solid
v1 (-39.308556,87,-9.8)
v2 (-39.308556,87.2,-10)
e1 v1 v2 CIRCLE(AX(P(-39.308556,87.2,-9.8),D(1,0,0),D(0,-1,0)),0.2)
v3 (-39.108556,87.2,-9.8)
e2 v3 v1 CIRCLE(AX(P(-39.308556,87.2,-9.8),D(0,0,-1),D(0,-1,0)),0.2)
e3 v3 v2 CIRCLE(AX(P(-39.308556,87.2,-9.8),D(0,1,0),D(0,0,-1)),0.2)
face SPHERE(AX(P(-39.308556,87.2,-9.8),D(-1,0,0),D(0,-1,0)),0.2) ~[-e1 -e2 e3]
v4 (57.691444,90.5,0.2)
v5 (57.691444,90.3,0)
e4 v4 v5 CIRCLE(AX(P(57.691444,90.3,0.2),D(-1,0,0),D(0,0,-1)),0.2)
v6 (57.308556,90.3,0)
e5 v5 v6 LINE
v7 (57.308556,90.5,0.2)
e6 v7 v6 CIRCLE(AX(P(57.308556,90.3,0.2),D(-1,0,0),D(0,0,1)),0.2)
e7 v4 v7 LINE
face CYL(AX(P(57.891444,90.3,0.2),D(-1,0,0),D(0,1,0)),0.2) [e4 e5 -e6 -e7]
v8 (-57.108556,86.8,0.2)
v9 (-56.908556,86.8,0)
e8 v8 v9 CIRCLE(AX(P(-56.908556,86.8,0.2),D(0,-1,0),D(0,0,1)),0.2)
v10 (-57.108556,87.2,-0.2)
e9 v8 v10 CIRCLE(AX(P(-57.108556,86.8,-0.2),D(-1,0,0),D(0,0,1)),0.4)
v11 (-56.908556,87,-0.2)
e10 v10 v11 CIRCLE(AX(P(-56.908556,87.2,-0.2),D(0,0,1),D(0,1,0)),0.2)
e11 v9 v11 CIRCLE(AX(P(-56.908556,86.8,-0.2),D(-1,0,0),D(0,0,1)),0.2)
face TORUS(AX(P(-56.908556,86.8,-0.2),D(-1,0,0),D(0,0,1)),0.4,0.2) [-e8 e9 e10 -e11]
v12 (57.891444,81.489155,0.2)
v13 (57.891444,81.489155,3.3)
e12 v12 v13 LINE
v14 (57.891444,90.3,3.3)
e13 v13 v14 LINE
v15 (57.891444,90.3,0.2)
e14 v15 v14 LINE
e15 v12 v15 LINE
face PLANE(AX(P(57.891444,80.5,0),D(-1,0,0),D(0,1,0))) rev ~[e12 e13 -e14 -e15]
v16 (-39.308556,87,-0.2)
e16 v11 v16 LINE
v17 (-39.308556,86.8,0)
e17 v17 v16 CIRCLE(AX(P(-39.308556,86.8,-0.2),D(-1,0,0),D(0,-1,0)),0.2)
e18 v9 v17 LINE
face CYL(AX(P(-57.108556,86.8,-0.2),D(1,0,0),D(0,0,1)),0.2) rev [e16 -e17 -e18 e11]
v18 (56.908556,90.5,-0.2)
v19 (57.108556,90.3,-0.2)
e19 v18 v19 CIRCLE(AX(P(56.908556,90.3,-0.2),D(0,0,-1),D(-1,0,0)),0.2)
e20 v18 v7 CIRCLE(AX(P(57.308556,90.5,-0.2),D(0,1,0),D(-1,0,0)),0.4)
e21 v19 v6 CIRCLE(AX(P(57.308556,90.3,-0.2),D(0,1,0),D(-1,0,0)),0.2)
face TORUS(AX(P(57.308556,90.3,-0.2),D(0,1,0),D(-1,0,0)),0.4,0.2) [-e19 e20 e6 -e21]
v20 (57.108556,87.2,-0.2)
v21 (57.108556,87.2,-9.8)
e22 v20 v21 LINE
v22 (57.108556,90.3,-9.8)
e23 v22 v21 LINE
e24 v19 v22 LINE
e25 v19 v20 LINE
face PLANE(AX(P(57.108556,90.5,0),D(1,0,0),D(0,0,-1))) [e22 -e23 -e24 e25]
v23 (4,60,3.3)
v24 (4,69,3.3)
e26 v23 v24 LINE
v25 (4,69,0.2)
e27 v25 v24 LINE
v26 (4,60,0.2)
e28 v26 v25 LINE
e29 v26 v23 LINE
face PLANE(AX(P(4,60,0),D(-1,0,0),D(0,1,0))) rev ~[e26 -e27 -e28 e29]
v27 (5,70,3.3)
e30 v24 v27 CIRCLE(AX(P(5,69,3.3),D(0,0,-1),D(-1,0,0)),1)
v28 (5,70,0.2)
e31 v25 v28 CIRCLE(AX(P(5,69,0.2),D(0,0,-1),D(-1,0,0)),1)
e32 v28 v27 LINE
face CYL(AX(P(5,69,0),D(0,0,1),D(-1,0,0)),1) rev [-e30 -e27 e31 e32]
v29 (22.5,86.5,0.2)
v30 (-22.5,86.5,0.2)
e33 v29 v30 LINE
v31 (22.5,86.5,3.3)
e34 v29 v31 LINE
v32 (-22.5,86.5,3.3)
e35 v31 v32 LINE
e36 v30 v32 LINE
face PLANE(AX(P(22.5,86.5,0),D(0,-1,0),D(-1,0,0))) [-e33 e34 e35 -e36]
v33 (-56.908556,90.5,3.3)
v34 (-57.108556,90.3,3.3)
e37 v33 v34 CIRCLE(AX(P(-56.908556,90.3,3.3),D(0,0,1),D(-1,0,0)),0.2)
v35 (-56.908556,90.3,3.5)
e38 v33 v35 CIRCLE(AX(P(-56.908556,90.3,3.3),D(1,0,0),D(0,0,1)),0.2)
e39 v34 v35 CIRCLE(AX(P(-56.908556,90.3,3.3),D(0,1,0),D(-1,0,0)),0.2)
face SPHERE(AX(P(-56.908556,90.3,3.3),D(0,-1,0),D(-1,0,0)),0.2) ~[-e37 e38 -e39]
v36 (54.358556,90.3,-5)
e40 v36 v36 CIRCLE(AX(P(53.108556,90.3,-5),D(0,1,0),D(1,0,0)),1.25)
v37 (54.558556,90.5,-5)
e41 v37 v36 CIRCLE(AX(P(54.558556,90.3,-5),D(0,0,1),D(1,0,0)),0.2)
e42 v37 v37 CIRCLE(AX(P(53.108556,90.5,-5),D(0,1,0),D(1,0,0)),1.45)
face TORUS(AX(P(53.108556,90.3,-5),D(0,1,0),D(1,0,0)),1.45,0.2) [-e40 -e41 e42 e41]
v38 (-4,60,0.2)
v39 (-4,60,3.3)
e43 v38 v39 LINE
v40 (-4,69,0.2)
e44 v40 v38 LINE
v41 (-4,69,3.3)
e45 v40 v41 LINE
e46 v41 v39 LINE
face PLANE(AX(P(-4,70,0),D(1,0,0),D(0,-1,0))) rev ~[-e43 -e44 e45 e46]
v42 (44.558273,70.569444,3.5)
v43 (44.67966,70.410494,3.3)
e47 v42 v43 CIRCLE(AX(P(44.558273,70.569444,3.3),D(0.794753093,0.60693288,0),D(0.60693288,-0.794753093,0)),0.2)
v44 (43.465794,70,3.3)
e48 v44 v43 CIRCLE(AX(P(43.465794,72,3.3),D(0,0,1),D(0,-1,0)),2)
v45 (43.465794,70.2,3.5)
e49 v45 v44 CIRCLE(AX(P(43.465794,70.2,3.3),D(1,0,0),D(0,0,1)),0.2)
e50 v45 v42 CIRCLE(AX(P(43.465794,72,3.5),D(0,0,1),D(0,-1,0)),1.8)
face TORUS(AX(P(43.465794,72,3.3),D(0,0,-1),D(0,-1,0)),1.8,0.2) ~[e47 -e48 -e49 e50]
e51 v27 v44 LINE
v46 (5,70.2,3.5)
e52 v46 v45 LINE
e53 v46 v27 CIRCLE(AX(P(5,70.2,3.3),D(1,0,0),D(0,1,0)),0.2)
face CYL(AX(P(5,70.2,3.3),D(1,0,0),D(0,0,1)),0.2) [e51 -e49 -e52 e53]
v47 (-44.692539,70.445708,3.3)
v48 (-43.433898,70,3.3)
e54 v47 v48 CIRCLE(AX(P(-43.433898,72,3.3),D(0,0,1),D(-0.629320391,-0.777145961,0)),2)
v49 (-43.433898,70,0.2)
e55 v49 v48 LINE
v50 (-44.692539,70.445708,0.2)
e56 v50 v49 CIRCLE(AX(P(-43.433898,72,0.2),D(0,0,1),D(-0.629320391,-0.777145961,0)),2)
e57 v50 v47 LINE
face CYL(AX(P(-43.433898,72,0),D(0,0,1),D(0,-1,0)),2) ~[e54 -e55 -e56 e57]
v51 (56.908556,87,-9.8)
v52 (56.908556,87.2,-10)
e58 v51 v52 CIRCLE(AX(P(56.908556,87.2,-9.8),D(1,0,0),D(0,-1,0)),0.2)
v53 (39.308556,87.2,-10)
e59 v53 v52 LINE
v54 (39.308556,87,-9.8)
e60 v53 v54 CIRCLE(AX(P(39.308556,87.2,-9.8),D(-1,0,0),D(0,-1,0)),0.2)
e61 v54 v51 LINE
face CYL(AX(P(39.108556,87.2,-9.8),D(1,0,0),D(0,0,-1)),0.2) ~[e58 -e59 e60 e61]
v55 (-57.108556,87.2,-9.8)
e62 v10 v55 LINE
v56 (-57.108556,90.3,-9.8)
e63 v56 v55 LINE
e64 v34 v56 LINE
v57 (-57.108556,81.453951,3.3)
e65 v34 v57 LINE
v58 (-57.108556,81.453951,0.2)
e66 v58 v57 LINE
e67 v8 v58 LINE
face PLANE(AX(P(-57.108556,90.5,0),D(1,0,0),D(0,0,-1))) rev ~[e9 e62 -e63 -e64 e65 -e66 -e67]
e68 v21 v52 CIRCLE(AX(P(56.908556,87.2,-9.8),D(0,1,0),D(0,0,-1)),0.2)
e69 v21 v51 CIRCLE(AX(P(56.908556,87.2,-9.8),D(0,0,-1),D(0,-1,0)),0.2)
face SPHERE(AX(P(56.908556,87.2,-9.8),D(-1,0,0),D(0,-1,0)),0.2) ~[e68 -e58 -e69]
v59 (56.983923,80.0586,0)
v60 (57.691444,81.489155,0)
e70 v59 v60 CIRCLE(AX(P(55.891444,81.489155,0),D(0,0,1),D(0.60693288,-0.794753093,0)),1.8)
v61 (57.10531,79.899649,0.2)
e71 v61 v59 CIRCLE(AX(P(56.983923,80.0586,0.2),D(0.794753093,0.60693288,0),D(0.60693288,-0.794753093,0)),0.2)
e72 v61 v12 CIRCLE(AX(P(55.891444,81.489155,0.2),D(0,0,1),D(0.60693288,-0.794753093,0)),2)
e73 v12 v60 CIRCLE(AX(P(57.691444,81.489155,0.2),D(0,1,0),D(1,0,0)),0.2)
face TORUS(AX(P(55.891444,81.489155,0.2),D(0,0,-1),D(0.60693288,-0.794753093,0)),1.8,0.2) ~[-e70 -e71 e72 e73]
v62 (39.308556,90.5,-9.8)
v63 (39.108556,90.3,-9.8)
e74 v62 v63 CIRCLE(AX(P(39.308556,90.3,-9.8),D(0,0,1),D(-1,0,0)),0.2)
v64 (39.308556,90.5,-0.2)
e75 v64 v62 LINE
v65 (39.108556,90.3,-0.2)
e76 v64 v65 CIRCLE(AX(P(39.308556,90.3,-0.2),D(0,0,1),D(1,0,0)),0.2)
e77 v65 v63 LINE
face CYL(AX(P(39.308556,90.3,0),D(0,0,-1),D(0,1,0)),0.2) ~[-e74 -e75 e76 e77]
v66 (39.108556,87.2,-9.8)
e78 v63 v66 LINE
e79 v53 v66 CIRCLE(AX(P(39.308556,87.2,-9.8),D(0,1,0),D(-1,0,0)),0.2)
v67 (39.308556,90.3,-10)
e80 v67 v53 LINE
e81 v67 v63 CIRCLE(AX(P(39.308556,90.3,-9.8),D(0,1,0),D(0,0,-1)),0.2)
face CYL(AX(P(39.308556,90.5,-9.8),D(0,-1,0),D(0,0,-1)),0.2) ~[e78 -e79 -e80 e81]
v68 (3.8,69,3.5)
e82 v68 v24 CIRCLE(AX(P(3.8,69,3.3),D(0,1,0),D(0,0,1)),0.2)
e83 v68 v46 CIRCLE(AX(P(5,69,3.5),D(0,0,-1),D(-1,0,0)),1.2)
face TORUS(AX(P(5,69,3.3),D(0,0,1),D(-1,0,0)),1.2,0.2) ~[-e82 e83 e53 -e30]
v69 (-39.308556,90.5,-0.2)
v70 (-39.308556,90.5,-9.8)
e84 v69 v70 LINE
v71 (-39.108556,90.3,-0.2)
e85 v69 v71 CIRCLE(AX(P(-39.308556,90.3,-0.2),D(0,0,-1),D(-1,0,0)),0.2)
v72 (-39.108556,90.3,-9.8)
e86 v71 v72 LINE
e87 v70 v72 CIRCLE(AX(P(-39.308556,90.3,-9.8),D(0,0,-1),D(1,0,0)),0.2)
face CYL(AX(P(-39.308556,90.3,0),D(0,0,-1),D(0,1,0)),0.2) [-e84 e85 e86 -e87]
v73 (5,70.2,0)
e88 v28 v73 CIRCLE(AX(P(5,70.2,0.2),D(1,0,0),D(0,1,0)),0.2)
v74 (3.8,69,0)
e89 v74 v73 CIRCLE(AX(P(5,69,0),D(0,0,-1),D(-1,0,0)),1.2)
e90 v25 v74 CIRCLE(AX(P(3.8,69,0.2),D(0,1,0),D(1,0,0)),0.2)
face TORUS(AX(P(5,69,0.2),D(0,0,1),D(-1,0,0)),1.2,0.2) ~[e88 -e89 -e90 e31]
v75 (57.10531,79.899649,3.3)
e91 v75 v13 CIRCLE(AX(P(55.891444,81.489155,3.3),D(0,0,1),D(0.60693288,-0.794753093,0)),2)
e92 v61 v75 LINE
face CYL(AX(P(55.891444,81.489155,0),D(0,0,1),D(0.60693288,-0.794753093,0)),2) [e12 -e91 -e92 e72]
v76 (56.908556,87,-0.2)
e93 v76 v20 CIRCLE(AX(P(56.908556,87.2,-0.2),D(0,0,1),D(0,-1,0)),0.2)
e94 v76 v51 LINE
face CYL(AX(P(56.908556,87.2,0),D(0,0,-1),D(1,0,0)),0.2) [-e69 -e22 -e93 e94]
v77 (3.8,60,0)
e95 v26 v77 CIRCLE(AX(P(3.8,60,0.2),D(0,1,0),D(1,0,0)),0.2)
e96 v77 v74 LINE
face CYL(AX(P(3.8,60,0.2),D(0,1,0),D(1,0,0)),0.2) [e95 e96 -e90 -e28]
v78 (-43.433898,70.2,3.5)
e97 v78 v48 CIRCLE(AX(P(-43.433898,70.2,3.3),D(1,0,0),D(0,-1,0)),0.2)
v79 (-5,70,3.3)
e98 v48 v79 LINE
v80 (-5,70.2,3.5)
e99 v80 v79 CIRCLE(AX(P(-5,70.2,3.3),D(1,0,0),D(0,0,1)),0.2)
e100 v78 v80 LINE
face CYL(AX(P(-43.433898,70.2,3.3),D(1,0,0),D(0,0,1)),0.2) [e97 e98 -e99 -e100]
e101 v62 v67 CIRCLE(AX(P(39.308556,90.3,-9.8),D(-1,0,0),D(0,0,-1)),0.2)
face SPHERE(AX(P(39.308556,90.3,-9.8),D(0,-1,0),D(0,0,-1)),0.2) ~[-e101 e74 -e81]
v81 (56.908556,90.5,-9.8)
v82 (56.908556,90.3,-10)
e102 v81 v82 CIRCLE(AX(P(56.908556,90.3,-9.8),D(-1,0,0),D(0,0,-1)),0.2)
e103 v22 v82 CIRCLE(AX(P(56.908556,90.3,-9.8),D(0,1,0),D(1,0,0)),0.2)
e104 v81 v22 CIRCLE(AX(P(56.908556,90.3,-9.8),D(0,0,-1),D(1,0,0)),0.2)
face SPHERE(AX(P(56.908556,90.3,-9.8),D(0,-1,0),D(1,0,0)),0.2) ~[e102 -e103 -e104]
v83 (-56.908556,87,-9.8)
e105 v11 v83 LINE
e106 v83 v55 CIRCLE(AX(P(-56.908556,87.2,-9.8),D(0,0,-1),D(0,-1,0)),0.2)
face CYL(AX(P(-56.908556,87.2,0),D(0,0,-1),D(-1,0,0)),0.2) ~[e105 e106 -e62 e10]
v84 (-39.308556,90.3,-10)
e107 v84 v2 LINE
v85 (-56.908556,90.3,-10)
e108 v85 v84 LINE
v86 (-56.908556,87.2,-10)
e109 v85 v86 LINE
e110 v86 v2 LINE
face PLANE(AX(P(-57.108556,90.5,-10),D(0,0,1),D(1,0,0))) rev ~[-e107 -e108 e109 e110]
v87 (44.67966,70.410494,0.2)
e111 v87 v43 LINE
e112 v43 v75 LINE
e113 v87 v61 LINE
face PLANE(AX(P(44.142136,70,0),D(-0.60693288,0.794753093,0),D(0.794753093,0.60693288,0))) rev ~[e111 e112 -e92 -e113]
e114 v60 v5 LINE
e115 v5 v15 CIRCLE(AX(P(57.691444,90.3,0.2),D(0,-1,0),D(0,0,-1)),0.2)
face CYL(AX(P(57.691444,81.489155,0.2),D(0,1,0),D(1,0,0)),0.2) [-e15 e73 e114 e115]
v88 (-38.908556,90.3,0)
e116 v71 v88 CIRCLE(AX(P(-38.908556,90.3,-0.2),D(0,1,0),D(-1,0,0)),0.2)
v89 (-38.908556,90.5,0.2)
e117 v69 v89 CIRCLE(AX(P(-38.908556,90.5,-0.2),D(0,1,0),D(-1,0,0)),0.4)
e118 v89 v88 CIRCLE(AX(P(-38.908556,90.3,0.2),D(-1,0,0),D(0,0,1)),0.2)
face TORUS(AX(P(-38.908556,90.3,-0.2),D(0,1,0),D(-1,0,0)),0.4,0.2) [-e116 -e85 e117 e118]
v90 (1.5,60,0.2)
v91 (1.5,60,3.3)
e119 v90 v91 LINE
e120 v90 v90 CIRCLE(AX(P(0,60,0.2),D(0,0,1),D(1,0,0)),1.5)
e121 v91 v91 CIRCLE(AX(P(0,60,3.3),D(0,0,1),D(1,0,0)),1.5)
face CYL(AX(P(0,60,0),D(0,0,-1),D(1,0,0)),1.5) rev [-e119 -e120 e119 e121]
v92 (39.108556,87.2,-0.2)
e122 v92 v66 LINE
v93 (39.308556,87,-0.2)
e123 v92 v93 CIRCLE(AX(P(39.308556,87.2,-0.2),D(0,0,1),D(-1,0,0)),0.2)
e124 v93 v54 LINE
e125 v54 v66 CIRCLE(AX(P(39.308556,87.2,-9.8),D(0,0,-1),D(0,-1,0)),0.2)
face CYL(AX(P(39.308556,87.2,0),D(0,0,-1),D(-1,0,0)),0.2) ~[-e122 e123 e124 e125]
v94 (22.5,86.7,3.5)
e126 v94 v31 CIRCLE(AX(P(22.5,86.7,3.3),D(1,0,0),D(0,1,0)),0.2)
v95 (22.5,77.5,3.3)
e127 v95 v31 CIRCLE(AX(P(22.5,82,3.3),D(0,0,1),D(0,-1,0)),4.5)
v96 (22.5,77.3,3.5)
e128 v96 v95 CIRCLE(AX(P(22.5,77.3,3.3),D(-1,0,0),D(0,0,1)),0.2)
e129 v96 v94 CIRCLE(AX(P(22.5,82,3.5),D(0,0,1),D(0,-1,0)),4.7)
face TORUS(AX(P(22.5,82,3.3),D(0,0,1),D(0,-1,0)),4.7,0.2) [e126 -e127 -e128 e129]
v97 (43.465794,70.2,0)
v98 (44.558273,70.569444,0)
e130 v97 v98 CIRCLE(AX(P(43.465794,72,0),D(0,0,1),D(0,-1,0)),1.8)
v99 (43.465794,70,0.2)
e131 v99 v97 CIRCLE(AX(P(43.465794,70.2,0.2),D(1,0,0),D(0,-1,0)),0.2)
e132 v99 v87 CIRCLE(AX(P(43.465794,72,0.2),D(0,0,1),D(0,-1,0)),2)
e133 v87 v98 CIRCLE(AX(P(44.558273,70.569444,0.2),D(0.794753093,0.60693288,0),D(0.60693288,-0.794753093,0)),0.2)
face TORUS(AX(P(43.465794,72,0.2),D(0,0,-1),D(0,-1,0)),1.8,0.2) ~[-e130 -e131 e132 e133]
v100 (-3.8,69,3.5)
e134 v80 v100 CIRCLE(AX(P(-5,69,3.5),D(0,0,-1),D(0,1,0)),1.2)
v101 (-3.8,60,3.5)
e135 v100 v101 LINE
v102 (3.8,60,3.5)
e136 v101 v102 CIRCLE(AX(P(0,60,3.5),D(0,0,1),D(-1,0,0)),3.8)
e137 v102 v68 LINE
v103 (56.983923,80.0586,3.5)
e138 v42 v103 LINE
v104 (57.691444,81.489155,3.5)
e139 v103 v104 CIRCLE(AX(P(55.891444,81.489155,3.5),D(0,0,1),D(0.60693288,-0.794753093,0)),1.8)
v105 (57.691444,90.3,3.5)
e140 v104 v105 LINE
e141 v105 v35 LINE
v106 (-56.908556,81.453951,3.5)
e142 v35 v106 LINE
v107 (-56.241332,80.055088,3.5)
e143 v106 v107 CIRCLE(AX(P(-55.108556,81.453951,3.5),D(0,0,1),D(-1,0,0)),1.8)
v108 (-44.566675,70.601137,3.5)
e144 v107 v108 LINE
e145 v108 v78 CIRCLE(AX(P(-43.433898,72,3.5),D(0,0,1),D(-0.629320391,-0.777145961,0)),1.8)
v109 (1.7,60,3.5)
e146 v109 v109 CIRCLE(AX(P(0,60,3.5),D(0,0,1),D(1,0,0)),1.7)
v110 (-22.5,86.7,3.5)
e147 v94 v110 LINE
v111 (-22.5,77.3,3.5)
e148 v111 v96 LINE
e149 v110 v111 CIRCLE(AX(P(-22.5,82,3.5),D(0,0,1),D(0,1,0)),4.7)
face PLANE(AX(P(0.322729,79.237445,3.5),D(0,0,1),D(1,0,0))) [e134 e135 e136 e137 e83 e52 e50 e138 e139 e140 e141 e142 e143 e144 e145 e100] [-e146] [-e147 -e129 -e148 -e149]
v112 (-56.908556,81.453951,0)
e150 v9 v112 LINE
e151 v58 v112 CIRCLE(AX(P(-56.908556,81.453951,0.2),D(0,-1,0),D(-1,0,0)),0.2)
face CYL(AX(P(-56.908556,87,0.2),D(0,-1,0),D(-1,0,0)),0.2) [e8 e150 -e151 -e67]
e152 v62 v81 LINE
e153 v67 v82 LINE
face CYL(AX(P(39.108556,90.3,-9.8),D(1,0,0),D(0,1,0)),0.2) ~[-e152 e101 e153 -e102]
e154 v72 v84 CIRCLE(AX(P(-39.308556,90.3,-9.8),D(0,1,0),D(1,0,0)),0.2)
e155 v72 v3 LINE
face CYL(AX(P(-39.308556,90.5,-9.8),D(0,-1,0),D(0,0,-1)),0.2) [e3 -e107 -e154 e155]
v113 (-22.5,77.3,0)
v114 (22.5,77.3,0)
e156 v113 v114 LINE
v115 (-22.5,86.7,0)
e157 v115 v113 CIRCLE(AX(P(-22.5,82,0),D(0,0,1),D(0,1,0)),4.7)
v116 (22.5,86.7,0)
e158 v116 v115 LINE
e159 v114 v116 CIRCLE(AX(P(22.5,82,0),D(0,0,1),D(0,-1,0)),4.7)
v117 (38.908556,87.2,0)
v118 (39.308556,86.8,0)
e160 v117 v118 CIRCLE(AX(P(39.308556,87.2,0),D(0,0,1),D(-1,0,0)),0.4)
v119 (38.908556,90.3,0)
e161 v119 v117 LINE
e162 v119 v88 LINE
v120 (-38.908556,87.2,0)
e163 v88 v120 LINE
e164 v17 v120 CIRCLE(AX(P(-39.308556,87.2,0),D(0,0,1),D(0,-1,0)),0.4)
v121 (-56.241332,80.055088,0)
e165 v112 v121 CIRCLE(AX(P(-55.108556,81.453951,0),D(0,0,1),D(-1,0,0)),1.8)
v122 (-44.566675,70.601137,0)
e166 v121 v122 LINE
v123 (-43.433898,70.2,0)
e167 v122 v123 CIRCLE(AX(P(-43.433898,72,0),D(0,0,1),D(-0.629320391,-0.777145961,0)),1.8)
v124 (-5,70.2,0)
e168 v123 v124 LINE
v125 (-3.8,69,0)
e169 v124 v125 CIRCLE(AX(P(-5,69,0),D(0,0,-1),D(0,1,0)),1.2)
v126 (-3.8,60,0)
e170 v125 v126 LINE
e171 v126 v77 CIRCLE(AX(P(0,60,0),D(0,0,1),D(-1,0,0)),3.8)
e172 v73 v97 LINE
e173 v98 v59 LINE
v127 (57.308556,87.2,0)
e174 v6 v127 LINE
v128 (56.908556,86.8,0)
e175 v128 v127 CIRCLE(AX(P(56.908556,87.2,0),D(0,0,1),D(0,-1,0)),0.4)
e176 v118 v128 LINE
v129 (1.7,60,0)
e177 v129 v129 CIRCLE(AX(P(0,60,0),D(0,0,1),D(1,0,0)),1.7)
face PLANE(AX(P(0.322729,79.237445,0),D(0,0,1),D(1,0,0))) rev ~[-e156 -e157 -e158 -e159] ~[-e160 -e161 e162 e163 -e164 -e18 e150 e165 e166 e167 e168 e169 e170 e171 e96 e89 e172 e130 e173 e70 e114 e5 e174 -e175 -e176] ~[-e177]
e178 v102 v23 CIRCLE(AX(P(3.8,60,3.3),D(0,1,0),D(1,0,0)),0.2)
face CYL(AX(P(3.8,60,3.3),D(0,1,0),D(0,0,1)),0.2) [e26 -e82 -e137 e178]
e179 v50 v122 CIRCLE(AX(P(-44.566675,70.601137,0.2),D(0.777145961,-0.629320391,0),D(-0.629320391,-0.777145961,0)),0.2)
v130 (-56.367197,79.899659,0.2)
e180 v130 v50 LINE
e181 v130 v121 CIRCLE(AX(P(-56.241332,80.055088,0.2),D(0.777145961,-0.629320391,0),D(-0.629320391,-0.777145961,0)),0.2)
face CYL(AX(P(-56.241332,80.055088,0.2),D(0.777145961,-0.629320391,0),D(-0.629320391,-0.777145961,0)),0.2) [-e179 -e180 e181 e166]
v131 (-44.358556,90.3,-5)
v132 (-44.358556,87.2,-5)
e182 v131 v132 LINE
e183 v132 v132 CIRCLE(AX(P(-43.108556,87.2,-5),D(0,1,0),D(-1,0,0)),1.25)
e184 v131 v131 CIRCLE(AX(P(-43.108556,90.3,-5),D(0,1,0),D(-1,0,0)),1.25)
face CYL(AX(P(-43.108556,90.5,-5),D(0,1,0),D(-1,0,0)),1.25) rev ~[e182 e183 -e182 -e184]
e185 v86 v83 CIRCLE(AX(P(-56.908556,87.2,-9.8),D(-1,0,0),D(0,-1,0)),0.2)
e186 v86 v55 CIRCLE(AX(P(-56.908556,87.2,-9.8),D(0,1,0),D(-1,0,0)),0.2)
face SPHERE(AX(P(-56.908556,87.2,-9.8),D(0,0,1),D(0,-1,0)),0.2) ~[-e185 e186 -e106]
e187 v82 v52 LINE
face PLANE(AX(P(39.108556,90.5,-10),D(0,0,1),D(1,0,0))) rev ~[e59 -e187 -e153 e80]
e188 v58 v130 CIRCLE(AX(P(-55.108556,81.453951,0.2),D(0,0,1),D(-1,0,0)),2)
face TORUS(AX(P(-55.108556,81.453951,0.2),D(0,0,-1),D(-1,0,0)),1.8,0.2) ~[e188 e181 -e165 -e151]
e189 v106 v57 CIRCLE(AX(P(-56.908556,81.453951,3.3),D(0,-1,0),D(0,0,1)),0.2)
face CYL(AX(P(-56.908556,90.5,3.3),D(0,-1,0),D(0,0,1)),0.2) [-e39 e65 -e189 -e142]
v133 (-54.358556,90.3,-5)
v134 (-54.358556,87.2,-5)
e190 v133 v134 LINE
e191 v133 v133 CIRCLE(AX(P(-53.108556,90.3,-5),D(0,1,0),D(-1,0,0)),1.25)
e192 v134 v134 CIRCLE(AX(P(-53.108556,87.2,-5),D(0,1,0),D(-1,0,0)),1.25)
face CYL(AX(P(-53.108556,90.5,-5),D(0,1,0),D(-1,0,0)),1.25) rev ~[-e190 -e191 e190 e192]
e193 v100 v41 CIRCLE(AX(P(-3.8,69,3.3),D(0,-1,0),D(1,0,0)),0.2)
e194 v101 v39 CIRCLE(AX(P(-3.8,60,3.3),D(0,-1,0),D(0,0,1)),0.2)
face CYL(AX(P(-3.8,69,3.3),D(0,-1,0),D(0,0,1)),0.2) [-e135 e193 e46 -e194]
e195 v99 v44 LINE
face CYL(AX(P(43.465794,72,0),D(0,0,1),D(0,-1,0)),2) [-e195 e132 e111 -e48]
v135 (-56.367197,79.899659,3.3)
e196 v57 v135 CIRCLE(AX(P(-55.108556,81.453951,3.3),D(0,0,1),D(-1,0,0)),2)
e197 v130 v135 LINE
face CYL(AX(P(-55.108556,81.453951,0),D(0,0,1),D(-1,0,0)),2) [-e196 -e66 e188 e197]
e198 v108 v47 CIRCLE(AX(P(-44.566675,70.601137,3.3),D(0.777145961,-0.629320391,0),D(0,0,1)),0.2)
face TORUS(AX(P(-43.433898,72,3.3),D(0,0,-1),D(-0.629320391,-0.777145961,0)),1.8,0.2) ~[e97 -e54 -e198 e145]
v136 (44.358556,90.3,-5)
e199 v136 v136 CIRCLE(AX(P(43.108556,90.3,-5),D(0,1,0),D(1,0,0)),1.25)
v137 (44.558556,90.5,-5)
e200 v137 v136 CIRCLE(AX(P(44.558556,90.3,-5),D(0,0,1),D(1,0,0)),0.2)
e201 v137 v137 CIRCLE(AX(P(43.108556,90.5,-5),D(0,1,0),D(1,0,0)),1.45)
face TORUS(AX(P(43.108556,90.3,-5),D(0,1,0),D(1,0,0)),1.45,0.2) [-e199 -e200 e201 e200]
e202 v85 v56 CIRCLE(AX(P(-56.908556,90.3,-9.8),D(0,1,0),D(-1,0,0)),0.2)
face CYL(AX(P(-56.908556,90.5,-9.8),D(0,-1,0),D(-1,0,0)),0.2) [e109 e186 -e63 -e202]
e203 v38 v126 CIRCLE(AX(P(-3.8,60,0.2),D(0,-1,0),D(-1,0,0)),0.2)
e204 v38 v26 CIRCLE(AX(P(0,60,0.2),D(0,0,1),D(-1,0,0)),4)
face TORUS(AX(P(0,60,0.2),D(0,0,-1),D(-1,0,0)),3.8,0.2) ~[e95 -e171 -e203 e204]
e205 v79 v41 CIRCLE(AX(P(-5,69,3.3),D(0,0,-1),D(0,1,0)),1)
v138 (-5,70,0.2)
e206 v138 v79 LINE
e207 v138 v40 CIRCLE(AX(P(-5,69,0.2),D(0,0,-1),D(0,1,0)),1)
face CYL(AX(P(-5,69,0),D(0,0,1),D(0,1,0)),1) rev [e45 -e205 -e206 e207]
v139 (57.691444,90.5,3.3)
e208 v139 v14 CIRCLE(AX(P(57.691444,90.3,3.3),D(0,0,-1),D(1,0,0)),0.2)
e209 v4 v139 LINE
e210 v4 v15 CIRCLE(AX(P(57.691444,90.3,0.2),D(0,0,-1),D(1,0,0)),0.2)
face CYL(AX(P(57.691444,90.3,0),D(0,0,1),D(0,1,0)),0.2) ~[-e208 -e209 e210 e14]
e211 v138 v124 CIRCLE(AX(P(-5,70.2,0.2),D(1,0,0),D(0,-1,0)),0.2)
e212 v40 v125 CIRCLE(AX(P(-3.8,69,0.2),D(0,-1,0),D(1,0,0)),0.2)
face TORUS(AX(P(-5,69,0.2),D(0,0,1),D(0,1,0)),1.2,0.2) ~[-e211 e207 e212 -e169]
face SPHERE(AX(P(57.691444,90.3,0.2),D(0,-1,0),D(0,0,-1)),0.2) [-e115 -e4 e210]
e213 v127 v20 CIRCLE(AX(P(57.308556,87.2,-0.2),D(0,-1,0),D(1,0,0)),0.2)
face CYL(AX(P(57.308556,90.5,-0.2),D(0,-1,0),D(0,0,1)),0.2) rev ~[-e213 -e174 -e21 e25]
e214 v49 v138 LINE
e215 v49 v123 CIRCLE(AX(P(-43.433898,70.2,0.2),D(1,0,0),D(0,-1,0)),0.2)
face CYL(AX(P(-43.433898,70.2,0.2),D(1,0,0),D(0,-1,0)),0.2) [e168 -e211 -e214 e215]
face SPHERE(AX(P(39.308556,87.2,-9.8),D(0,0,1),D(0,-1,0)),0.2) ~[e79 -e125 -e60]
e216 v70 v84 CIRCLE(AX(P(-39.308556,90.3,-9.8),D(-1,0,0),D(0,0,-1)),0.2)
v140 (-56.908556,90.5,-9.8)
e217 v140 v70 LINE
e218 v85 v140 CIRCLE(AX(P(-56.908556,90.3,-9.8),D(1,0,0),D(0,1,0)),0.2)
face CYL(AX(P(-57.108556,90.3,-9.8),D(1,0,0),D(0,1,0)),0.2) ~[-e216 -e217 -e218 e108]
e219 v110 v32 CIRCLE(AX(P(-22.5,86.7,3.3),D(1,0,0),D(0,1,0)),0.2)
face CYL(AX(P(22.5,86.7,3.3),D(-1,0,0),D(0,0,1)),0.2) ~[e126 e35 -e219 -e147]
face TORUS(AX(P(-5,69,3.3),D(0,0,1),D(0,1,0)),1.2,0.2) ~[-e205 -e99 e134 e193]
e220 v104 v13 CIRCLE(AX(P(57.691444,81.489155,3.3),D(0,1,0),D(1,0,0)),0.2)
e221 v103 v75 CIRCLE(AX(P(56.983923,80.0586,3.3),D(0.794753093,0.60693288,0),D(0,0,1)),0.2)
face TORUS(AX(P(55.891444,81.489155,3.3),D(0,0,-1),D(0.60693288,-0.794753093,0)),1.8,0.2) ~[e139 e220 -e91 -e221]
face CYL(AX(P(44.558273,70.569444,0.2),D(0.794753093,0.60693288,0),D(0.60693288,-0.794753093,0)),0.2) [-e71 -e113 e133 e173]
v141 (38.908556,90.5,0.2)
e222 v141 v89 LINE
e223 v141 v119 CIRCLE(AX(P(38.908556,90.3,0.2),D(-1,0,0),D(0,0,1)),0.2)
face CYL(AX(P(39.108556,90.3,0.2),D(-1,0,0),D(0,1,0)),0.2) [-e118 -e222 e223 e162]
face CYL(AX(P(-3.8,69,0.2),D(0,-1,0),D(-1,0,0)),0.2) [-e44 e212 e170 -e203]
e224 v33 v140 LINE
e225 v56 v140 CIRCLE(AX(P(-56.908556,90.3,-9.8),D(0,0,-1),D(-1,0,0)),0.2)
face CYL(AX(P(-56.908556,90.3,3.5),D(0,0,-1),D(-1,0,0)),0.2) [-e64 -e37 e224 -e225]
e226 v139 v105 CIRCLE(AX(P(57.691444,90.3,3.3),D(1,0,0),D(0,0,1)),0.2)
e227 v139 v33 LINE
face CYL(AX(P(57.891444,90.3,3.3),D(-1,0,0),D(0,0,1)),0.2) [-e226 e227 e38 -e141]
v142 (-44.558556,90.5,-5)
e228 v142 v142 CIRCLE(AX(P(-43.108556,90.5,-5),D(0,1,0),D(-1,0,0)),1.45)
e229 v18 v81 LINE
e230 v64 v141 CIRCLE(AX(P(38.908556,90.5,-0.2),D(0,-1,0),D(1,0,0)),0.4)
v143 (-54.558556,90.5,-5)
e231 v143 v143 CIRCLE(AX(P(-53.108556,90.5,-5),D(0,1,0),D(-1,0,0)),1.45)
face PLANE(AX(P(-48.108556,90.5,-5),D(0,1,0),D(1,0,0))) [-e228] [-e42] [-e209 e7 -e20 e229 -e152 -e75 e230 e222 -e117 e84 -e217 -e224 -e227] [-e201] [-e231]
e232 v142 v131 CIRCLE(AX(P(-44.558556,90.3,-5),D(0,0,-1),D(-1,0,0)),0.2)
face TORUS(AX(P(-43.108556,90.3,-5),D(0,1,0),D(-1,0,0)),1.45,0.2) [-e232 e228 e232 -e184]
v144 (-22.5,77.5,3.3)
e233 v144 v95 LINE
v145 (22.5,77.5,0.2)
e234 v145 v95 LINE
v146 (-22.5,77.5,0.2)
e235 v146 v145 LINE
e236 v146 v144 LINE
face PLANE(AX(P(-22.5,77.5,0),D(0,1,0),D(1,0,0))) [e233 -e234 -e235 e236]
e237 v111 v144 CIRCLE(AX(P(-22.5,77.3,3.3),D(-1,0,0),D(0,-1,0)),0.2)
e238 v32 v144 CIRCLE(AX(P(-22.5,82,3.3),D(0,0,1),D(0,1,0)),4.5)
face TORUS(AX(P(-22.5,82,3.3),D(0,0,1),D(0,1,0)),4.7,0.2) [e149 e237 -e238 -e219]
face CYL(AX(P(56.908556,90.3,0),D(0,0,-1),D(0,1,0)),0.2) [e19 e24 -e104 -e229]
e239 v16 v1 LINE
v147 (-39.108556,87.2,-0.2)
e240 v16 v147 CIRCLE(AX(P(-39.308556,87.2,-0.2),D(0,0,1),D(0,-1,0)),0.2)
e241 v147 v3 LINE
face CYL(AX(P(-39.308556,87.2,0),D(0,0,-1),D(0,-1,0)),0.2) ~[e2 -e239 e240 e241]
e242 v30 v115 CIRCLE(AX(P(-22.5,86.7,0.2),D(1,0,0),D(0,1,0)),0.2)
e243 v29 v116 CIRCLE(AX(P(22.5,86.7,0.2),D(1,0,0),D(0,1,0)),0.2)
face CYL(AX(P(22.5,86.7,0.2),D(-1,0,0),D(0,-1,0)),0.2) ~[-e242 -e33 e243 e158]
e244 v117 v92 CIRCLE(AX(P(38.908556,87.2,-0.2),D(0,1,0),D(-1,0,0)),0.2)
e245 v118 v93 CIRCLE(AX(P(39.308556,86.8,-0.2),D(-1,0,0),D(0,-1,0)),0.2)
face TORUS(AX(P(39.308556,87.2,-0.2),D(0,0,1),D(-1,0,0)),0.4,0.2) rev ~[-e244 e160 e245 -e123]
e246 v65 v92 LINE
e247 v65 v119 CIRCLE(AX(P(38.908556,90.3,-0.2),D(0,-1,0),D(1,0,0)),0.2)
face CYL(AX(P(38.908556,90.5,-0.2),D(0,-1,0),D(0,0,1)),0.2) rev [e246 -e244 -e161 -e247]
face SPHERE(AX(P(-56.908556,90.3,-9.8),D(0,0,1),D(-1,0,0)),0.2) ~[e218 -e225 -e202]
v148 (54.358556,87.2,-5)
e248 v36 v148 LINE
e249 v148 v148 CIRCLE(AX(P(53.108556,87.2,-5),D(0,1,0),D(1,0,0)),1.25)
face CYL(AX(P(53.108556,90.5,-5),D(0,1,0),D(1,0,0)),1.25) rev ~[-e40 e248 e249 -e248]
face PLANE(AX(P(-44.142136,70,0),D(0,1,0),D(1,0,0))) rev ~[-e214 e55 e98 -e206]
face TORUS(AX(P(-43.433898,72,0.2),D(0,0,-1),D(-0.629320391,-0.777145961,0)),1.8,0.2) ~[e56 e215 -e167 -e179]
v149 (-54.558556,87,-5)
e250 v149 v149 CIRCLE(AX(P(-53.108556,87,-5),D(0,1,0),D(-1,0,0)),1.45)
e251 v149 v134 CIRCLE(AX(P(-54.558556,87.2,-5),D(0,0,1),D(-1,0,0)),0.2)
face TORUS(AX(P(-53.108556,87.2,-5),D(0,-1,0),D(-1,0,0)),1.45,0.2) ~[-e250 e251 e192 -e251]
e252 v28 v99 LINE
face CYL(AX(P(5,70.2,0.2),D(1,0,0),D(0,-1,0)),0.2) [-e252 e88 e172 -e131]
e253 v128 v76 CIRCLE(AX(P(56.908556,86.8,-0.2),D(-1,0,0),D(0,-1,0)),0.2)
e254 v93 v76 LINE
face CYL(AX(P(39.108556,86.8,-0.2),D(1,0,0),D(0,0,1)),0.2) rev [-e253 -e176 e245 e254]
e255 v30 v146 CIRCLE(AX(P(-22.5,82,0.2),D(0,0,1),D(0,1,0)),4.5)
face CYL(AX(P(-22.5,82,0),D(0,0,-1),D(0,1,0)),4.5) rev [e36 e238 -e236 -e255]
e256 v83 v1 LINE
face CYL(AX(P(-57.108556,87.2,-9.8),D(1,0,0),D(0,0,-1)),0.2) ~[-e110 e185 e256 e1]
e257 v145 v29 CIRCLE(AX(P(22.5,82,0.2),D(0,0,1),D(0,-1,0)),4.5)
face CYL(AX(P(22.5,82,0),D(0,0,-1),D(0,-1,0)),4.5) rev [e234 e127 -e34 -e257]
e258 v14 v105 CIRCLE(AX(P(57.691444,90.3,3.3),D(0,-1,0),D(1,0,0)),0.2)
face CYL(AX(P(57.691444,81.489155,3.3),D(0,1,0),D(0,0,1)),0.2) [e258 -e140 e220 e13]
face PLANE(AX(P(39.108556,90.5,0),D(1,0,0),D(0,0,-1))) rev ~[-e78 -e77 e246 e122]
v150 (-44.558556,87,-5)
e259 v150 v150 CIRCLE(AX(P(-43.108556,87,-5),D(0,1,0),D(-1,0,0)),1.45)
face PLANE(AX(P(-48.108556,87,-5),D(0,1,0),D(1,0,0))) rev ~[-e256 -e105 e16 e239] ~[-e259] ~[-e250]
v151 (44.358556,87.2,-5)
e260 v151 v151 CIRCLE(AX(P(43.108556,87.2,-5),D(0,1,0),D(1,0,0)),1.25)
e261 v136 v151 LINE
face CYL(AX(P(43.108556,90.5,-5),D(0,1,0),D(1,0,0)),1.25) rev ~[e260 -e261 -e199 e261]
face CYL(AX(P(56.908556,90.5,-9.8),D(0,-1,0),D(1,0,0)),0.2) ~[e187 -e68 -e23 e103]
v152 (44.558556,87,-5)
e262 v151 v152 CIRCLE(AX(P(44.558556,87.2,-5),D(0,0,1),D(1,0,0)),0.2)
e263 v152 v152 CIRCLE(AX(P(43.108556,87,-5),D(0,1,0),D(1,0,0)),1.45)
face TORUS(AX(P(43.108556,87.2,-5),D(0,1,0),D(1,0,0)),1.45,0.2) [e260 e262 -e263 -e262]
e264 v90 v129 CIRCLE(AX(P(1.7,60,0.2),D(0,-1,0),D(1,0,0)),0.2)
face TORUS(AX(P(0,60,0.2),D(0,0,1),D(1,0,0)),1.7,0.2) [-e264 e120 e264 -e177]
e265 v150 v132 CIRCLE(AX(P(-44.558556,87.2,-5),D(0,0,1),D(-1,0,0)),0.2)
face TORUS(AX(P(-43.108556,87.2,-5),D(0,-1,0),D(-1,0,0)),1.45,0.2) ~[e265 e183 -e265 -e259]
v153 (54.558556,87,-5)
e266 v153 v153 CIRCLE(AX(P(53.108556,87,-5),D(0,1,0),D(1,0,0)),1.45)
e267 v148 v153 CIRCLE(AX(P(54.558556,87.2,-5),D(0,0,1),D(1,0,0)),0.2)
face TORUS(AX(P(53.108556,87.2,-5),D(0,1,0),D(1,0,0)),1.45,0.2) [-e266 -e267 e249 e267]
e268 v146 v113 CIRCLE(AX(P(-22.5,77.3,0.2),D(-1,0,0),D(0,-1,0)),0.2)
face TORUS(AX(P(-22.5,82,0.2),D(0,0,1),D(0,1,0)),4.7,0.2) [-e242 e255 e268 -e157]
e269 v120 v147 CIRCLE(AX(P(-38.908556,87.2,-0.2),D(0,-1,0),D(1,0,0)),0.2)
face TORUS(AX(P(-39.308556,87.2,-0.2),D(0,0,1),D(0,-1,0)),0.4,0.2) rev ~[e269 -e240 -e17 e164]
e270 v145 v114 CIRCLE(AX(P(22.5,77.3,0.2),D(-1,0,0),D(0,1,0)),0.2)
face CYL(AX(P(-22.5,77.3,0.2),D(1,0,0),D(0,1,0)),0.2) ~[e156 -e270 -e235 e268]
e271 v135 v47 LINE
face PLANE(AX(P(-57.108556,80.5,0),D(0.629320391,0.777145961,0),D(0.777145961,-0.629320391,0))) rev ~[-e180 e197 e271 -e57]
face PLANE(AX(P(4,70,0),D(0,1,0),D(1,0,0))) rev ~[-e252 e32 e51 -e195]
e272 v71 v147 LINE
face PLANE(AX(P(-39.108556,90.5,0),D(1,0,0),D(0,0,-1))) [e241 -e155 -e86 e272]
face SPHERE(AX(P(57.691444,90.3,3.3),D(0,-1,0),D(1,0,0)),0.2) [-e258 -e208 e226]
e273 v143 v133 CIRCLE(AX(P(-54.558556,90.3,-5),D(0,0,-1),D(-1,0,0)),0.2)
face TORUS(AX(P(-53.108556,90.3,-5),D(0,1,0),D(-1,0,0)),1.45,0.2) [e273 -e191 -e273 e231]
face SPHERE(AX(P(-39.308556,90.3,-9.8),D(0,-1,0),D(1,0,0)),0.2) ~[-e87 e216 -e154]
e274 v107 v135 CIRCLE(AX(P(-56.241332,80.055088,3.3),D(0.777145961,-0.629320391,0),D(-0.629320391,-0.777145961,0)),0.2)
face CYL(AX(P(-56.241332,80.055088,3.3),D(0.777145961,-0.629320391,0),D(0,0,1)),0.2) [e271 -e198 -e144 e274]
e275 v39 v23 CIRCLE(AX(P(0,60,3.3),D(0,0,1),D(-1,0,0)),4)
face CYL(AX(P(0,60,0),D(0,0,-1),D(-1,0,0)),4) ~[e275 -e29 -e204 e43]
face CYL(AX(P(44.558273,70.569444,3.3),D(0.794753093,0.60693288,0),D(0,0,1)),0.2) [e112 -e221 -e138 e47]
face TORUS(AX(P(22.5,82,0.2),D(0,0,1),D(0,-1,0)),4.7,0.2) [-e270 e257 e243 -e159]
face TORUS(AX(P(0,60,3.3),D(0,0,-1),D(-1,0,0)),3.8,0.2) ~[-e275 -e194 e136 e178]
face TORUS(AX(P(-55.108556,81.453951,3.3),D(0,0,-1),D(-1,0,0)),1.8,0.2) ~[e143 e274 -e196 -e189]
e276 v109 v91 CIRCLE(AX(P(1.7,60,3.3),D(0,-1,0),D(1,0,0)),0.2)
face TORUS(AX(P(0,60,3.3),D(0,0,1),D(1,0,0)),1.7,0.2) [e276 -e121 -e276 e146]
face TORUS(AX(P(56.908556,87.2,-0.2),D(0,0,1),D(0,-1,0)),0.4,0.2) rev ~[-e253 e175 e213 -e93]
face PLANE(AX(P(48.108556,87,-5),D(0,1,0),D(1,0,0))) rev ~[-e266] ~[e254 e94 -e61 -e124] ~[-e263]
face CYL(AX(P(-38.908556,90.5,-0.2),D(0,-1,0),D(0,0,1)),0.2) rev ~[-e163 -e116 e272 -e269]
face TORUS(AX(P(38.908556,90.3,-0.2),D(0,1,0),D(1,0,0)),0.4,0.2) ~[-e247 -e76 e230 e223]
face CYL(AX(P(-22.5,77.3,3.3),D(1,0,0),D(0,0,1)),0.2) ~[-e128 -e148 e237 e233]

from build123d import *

# Parameters (mm, degrees)
SKETCH6_R           = 1.5
BOSS_EXTRUDE1_DEPTH = 3.5
SKETCH8_W           = 18
SKETCH8_H           = 10
SKETCH8_R           = 1.25
BOSS_EXTRUDE2_DEPTH = 3.5
FILLET1_R           = 2
FILLET2_R           = 1
FILLET3_R           = 0.2


with BuildPart() as part:
    # Sketch6 → Boss-Extrude1 (new body)
    with BuildSketch(Plane.XY):
        with BuildLine():
            Line((-44.142135624, 70), (-4, 70))
            Line((-4, 70), (-4, 60))
            ThreePointArc((-4, 60), (0, 56), (4, 60))
            Line((4, 60), (4, 70))
            Line((4, 70), (44.142135624, 70))
            Line((44.142135624, 70), (57.891444233, 80.5))
            Line((57.891444233, 80.5), (57.891444233, 90.5))
            Line((57.891444233, 90.5), (-57.108555767, 90.5))
            Line((-57.108555767, 90.5), (-57.108555767, 80.5))
            Line((-57.108555767, 80.5), (-44.142135624, 70))
        make_face()
        with Locations((0, 60)):
            Circle(SKETCH6_R, mode=Mode.SUBTRACT)
        with BuildLine():
            Line((22.5, 86.5), (-22.5, 86.5))
            ThreePointArc((-22.5, 86.5), (-27, 82), (-22.5, 77.5))
            Line((-22.5, 77.5), (22.5, 77.5))
            ThreePointArc((22.5, 77.5), (27, 82), (22.5, 86.5))
        make_face(mode=Mode.SUBTRACT)
    extrude(amount=BOSS_EXTRUDE1_DEPTH)

    # Sketch8 → Boss-Extrude2 (add)
    # profile 1 of 2: a face of its own
    with BuildSketch(Plane(origin=(0, 90.5, 0), x_dir=(1, 0, 0), z_dir=(0, 1, 0))):
        with Locations((-48.108555767, 5)):
            Rectangle(SKETCH8_W, SKETCH8_H)
        with Locations(Location((-53.108555767, 5, 0), (0, 0, 180))):
            Circle(SKETCH8_R, mode=Mode.SUBTRACT)
        with Locations(Location((-43.108555767, 5, 0), (0, 0, 180))):
            Circle(SKETCH8_R, mode=Mode.SUBTRACT)
    # profile 2 of 2: a face of its own
    with BuildSketch(Plane(origin=(0, 90.5, 0), x_dir=(1, 0, 0), z_dir=(0, 1, 0))):
        with Locations((48.108555767, 5)):
            Rectangle(SKETCH8_W, SKETCH8_H)
        with Locations((43.108555767, 5)):
            Circle(SKETCH8_R, mode=Mode.SUBTRACT)
        with Locations((53.108555767, 5)):
            Circle(SKETCH8_R, mode=Mode.SUBTRACT)
    extrude(amount=-BOSS_EXTRUDE2_DEPTH)

    # Fillet1
    fillet1_edges = [part.edges().sort_by_distance(p)[0] for p in [
        (-57.108555767, 80.5, 1.75),
        (57.891444233, 80.5, 1.75),
        (44.142135624, 70, 1.75),
        (-44.142135624, 70, 1.75),
    ]]
    fillet(fillet1_edges, radius=FILLET1_R)

    # Fillet2
    fillet2_edges = [part.edges().sort_by_distance(p)[0] for p in [
        (4, 70, 1.75),
        (-4, 70, 1.75),
    ]]
    fillet(fillet2_edges, radius=FILLET2_R)

    # Fillet3
    fillet3_edges = [part.edges().sort_by_distance(p)[0] for p in [
        (-4, 64.5, 0),
        (-4, 64.5, 3.5),
        (24.232897128, 70, 0),
        (24.232897128, 70, 3.5),
        (57.5, 90.5, 0),
        (-4.292893219, 69.707106781, 0),
        (-4.292893219, 69.707106781, 3.5),
        (4.292893219, 69.707106781, 0),
        (4.292893219, 69.707106781, 3.5),
        (4, 64.5, 0),
        (0, 56, 0),
        (0, 56, 3.5),
        (-57.108555767, 90.5, -3.25),
        (57.891444233, 90.5, 1.75),
        (4, 64.5, 3.5),
        (-1.5, 60, 0),
        (-1.5, 60, 3.5),
        (-27, 82, 0),
        (0, 77.5, 0),
        (27, 82, 0),
        (0, 86.5, 0),
        (-27, 82, 3.5),
        (0, 77.5, 3.5),
        (27, 82, 3.5),
        (0, 86.5, 3.5),
        (0.391444233, 90.5, 3.5),
        (-57.108555767, 85.976975533, 3.5),
        (-57.108555767, 84.226975533, 0),
        (-57.108555767, 87, -5),
        (-48.108555767, 87, -10),
        (-57.108555767, 88.75, -10),
        (-39.108555767, 87, -5),
        (-39.108555767, 88.75, -10),
        (-48.108555767, 87, 0),
        (-39.108555767, 88.75, 0),
        (-41.858555767, 87, -5),
        (-51.858555767, 87, -5),
        (-39.108555767, 90.5, -5),
        (-48.108555767, 90.5, -10),
        (-51.858555767, 90.5, -5),
        (-41.858555767, 90.5, -5),
        (0, 90.5, 0),
        (48.108555767, 87, 0),
        (57.108555767, 88.75, 0),
        (39.108555767, 87, -5),
        (39.108555767, 88.75, 0),
        (48.108555767, 87, -10),
        (39.108555767, 88.75, -10),
        (57.108555767, 87, -5),
        (57.108555767, 88.75, -10),
        (51.858555767, 87, -5),
        (41.858555767, 87, -5),
        (57.108555767, 90.5, -5),
        (48.108555767, 90.5, -10),
        (39.108555767, 90.5, -5),
        (41.858555767, 90.5, -5),
        (51.858555767, 90.5, -5),
        (57.891444233, 85.994577653, 0),
        (57.891444233, 85.994577653, 3.5),
        (50.892485005, 75.155071467, 0),
        (-24.216949239, 70, 0),
        (-50.529867905, 75.17268361, 0),
        (-56.913726336, 80.592928872, 0),
        (-44.101512197, 70.114717018, 0),
        (44.106492168, 70.105400785, 0),
        (57.684170023, 80.602513192, 0),
        (50.892485005, 75.155071467, 3.5),
        (-50.529867905, 75.17268361, 3.5),
        (-24.216949239, 70, 3.5),
        (-56.913726336, 80.592928872, 3.5),
        (-44.101512197, 70.114717018, 3.5),
        (44.106492168, 70.105400785, 3.5),
        (57.684170023, 80.602513192, 3.5),
    ]]
    fillet(fillet3_edges, radius=FILLET3_R)


solid = part.part
